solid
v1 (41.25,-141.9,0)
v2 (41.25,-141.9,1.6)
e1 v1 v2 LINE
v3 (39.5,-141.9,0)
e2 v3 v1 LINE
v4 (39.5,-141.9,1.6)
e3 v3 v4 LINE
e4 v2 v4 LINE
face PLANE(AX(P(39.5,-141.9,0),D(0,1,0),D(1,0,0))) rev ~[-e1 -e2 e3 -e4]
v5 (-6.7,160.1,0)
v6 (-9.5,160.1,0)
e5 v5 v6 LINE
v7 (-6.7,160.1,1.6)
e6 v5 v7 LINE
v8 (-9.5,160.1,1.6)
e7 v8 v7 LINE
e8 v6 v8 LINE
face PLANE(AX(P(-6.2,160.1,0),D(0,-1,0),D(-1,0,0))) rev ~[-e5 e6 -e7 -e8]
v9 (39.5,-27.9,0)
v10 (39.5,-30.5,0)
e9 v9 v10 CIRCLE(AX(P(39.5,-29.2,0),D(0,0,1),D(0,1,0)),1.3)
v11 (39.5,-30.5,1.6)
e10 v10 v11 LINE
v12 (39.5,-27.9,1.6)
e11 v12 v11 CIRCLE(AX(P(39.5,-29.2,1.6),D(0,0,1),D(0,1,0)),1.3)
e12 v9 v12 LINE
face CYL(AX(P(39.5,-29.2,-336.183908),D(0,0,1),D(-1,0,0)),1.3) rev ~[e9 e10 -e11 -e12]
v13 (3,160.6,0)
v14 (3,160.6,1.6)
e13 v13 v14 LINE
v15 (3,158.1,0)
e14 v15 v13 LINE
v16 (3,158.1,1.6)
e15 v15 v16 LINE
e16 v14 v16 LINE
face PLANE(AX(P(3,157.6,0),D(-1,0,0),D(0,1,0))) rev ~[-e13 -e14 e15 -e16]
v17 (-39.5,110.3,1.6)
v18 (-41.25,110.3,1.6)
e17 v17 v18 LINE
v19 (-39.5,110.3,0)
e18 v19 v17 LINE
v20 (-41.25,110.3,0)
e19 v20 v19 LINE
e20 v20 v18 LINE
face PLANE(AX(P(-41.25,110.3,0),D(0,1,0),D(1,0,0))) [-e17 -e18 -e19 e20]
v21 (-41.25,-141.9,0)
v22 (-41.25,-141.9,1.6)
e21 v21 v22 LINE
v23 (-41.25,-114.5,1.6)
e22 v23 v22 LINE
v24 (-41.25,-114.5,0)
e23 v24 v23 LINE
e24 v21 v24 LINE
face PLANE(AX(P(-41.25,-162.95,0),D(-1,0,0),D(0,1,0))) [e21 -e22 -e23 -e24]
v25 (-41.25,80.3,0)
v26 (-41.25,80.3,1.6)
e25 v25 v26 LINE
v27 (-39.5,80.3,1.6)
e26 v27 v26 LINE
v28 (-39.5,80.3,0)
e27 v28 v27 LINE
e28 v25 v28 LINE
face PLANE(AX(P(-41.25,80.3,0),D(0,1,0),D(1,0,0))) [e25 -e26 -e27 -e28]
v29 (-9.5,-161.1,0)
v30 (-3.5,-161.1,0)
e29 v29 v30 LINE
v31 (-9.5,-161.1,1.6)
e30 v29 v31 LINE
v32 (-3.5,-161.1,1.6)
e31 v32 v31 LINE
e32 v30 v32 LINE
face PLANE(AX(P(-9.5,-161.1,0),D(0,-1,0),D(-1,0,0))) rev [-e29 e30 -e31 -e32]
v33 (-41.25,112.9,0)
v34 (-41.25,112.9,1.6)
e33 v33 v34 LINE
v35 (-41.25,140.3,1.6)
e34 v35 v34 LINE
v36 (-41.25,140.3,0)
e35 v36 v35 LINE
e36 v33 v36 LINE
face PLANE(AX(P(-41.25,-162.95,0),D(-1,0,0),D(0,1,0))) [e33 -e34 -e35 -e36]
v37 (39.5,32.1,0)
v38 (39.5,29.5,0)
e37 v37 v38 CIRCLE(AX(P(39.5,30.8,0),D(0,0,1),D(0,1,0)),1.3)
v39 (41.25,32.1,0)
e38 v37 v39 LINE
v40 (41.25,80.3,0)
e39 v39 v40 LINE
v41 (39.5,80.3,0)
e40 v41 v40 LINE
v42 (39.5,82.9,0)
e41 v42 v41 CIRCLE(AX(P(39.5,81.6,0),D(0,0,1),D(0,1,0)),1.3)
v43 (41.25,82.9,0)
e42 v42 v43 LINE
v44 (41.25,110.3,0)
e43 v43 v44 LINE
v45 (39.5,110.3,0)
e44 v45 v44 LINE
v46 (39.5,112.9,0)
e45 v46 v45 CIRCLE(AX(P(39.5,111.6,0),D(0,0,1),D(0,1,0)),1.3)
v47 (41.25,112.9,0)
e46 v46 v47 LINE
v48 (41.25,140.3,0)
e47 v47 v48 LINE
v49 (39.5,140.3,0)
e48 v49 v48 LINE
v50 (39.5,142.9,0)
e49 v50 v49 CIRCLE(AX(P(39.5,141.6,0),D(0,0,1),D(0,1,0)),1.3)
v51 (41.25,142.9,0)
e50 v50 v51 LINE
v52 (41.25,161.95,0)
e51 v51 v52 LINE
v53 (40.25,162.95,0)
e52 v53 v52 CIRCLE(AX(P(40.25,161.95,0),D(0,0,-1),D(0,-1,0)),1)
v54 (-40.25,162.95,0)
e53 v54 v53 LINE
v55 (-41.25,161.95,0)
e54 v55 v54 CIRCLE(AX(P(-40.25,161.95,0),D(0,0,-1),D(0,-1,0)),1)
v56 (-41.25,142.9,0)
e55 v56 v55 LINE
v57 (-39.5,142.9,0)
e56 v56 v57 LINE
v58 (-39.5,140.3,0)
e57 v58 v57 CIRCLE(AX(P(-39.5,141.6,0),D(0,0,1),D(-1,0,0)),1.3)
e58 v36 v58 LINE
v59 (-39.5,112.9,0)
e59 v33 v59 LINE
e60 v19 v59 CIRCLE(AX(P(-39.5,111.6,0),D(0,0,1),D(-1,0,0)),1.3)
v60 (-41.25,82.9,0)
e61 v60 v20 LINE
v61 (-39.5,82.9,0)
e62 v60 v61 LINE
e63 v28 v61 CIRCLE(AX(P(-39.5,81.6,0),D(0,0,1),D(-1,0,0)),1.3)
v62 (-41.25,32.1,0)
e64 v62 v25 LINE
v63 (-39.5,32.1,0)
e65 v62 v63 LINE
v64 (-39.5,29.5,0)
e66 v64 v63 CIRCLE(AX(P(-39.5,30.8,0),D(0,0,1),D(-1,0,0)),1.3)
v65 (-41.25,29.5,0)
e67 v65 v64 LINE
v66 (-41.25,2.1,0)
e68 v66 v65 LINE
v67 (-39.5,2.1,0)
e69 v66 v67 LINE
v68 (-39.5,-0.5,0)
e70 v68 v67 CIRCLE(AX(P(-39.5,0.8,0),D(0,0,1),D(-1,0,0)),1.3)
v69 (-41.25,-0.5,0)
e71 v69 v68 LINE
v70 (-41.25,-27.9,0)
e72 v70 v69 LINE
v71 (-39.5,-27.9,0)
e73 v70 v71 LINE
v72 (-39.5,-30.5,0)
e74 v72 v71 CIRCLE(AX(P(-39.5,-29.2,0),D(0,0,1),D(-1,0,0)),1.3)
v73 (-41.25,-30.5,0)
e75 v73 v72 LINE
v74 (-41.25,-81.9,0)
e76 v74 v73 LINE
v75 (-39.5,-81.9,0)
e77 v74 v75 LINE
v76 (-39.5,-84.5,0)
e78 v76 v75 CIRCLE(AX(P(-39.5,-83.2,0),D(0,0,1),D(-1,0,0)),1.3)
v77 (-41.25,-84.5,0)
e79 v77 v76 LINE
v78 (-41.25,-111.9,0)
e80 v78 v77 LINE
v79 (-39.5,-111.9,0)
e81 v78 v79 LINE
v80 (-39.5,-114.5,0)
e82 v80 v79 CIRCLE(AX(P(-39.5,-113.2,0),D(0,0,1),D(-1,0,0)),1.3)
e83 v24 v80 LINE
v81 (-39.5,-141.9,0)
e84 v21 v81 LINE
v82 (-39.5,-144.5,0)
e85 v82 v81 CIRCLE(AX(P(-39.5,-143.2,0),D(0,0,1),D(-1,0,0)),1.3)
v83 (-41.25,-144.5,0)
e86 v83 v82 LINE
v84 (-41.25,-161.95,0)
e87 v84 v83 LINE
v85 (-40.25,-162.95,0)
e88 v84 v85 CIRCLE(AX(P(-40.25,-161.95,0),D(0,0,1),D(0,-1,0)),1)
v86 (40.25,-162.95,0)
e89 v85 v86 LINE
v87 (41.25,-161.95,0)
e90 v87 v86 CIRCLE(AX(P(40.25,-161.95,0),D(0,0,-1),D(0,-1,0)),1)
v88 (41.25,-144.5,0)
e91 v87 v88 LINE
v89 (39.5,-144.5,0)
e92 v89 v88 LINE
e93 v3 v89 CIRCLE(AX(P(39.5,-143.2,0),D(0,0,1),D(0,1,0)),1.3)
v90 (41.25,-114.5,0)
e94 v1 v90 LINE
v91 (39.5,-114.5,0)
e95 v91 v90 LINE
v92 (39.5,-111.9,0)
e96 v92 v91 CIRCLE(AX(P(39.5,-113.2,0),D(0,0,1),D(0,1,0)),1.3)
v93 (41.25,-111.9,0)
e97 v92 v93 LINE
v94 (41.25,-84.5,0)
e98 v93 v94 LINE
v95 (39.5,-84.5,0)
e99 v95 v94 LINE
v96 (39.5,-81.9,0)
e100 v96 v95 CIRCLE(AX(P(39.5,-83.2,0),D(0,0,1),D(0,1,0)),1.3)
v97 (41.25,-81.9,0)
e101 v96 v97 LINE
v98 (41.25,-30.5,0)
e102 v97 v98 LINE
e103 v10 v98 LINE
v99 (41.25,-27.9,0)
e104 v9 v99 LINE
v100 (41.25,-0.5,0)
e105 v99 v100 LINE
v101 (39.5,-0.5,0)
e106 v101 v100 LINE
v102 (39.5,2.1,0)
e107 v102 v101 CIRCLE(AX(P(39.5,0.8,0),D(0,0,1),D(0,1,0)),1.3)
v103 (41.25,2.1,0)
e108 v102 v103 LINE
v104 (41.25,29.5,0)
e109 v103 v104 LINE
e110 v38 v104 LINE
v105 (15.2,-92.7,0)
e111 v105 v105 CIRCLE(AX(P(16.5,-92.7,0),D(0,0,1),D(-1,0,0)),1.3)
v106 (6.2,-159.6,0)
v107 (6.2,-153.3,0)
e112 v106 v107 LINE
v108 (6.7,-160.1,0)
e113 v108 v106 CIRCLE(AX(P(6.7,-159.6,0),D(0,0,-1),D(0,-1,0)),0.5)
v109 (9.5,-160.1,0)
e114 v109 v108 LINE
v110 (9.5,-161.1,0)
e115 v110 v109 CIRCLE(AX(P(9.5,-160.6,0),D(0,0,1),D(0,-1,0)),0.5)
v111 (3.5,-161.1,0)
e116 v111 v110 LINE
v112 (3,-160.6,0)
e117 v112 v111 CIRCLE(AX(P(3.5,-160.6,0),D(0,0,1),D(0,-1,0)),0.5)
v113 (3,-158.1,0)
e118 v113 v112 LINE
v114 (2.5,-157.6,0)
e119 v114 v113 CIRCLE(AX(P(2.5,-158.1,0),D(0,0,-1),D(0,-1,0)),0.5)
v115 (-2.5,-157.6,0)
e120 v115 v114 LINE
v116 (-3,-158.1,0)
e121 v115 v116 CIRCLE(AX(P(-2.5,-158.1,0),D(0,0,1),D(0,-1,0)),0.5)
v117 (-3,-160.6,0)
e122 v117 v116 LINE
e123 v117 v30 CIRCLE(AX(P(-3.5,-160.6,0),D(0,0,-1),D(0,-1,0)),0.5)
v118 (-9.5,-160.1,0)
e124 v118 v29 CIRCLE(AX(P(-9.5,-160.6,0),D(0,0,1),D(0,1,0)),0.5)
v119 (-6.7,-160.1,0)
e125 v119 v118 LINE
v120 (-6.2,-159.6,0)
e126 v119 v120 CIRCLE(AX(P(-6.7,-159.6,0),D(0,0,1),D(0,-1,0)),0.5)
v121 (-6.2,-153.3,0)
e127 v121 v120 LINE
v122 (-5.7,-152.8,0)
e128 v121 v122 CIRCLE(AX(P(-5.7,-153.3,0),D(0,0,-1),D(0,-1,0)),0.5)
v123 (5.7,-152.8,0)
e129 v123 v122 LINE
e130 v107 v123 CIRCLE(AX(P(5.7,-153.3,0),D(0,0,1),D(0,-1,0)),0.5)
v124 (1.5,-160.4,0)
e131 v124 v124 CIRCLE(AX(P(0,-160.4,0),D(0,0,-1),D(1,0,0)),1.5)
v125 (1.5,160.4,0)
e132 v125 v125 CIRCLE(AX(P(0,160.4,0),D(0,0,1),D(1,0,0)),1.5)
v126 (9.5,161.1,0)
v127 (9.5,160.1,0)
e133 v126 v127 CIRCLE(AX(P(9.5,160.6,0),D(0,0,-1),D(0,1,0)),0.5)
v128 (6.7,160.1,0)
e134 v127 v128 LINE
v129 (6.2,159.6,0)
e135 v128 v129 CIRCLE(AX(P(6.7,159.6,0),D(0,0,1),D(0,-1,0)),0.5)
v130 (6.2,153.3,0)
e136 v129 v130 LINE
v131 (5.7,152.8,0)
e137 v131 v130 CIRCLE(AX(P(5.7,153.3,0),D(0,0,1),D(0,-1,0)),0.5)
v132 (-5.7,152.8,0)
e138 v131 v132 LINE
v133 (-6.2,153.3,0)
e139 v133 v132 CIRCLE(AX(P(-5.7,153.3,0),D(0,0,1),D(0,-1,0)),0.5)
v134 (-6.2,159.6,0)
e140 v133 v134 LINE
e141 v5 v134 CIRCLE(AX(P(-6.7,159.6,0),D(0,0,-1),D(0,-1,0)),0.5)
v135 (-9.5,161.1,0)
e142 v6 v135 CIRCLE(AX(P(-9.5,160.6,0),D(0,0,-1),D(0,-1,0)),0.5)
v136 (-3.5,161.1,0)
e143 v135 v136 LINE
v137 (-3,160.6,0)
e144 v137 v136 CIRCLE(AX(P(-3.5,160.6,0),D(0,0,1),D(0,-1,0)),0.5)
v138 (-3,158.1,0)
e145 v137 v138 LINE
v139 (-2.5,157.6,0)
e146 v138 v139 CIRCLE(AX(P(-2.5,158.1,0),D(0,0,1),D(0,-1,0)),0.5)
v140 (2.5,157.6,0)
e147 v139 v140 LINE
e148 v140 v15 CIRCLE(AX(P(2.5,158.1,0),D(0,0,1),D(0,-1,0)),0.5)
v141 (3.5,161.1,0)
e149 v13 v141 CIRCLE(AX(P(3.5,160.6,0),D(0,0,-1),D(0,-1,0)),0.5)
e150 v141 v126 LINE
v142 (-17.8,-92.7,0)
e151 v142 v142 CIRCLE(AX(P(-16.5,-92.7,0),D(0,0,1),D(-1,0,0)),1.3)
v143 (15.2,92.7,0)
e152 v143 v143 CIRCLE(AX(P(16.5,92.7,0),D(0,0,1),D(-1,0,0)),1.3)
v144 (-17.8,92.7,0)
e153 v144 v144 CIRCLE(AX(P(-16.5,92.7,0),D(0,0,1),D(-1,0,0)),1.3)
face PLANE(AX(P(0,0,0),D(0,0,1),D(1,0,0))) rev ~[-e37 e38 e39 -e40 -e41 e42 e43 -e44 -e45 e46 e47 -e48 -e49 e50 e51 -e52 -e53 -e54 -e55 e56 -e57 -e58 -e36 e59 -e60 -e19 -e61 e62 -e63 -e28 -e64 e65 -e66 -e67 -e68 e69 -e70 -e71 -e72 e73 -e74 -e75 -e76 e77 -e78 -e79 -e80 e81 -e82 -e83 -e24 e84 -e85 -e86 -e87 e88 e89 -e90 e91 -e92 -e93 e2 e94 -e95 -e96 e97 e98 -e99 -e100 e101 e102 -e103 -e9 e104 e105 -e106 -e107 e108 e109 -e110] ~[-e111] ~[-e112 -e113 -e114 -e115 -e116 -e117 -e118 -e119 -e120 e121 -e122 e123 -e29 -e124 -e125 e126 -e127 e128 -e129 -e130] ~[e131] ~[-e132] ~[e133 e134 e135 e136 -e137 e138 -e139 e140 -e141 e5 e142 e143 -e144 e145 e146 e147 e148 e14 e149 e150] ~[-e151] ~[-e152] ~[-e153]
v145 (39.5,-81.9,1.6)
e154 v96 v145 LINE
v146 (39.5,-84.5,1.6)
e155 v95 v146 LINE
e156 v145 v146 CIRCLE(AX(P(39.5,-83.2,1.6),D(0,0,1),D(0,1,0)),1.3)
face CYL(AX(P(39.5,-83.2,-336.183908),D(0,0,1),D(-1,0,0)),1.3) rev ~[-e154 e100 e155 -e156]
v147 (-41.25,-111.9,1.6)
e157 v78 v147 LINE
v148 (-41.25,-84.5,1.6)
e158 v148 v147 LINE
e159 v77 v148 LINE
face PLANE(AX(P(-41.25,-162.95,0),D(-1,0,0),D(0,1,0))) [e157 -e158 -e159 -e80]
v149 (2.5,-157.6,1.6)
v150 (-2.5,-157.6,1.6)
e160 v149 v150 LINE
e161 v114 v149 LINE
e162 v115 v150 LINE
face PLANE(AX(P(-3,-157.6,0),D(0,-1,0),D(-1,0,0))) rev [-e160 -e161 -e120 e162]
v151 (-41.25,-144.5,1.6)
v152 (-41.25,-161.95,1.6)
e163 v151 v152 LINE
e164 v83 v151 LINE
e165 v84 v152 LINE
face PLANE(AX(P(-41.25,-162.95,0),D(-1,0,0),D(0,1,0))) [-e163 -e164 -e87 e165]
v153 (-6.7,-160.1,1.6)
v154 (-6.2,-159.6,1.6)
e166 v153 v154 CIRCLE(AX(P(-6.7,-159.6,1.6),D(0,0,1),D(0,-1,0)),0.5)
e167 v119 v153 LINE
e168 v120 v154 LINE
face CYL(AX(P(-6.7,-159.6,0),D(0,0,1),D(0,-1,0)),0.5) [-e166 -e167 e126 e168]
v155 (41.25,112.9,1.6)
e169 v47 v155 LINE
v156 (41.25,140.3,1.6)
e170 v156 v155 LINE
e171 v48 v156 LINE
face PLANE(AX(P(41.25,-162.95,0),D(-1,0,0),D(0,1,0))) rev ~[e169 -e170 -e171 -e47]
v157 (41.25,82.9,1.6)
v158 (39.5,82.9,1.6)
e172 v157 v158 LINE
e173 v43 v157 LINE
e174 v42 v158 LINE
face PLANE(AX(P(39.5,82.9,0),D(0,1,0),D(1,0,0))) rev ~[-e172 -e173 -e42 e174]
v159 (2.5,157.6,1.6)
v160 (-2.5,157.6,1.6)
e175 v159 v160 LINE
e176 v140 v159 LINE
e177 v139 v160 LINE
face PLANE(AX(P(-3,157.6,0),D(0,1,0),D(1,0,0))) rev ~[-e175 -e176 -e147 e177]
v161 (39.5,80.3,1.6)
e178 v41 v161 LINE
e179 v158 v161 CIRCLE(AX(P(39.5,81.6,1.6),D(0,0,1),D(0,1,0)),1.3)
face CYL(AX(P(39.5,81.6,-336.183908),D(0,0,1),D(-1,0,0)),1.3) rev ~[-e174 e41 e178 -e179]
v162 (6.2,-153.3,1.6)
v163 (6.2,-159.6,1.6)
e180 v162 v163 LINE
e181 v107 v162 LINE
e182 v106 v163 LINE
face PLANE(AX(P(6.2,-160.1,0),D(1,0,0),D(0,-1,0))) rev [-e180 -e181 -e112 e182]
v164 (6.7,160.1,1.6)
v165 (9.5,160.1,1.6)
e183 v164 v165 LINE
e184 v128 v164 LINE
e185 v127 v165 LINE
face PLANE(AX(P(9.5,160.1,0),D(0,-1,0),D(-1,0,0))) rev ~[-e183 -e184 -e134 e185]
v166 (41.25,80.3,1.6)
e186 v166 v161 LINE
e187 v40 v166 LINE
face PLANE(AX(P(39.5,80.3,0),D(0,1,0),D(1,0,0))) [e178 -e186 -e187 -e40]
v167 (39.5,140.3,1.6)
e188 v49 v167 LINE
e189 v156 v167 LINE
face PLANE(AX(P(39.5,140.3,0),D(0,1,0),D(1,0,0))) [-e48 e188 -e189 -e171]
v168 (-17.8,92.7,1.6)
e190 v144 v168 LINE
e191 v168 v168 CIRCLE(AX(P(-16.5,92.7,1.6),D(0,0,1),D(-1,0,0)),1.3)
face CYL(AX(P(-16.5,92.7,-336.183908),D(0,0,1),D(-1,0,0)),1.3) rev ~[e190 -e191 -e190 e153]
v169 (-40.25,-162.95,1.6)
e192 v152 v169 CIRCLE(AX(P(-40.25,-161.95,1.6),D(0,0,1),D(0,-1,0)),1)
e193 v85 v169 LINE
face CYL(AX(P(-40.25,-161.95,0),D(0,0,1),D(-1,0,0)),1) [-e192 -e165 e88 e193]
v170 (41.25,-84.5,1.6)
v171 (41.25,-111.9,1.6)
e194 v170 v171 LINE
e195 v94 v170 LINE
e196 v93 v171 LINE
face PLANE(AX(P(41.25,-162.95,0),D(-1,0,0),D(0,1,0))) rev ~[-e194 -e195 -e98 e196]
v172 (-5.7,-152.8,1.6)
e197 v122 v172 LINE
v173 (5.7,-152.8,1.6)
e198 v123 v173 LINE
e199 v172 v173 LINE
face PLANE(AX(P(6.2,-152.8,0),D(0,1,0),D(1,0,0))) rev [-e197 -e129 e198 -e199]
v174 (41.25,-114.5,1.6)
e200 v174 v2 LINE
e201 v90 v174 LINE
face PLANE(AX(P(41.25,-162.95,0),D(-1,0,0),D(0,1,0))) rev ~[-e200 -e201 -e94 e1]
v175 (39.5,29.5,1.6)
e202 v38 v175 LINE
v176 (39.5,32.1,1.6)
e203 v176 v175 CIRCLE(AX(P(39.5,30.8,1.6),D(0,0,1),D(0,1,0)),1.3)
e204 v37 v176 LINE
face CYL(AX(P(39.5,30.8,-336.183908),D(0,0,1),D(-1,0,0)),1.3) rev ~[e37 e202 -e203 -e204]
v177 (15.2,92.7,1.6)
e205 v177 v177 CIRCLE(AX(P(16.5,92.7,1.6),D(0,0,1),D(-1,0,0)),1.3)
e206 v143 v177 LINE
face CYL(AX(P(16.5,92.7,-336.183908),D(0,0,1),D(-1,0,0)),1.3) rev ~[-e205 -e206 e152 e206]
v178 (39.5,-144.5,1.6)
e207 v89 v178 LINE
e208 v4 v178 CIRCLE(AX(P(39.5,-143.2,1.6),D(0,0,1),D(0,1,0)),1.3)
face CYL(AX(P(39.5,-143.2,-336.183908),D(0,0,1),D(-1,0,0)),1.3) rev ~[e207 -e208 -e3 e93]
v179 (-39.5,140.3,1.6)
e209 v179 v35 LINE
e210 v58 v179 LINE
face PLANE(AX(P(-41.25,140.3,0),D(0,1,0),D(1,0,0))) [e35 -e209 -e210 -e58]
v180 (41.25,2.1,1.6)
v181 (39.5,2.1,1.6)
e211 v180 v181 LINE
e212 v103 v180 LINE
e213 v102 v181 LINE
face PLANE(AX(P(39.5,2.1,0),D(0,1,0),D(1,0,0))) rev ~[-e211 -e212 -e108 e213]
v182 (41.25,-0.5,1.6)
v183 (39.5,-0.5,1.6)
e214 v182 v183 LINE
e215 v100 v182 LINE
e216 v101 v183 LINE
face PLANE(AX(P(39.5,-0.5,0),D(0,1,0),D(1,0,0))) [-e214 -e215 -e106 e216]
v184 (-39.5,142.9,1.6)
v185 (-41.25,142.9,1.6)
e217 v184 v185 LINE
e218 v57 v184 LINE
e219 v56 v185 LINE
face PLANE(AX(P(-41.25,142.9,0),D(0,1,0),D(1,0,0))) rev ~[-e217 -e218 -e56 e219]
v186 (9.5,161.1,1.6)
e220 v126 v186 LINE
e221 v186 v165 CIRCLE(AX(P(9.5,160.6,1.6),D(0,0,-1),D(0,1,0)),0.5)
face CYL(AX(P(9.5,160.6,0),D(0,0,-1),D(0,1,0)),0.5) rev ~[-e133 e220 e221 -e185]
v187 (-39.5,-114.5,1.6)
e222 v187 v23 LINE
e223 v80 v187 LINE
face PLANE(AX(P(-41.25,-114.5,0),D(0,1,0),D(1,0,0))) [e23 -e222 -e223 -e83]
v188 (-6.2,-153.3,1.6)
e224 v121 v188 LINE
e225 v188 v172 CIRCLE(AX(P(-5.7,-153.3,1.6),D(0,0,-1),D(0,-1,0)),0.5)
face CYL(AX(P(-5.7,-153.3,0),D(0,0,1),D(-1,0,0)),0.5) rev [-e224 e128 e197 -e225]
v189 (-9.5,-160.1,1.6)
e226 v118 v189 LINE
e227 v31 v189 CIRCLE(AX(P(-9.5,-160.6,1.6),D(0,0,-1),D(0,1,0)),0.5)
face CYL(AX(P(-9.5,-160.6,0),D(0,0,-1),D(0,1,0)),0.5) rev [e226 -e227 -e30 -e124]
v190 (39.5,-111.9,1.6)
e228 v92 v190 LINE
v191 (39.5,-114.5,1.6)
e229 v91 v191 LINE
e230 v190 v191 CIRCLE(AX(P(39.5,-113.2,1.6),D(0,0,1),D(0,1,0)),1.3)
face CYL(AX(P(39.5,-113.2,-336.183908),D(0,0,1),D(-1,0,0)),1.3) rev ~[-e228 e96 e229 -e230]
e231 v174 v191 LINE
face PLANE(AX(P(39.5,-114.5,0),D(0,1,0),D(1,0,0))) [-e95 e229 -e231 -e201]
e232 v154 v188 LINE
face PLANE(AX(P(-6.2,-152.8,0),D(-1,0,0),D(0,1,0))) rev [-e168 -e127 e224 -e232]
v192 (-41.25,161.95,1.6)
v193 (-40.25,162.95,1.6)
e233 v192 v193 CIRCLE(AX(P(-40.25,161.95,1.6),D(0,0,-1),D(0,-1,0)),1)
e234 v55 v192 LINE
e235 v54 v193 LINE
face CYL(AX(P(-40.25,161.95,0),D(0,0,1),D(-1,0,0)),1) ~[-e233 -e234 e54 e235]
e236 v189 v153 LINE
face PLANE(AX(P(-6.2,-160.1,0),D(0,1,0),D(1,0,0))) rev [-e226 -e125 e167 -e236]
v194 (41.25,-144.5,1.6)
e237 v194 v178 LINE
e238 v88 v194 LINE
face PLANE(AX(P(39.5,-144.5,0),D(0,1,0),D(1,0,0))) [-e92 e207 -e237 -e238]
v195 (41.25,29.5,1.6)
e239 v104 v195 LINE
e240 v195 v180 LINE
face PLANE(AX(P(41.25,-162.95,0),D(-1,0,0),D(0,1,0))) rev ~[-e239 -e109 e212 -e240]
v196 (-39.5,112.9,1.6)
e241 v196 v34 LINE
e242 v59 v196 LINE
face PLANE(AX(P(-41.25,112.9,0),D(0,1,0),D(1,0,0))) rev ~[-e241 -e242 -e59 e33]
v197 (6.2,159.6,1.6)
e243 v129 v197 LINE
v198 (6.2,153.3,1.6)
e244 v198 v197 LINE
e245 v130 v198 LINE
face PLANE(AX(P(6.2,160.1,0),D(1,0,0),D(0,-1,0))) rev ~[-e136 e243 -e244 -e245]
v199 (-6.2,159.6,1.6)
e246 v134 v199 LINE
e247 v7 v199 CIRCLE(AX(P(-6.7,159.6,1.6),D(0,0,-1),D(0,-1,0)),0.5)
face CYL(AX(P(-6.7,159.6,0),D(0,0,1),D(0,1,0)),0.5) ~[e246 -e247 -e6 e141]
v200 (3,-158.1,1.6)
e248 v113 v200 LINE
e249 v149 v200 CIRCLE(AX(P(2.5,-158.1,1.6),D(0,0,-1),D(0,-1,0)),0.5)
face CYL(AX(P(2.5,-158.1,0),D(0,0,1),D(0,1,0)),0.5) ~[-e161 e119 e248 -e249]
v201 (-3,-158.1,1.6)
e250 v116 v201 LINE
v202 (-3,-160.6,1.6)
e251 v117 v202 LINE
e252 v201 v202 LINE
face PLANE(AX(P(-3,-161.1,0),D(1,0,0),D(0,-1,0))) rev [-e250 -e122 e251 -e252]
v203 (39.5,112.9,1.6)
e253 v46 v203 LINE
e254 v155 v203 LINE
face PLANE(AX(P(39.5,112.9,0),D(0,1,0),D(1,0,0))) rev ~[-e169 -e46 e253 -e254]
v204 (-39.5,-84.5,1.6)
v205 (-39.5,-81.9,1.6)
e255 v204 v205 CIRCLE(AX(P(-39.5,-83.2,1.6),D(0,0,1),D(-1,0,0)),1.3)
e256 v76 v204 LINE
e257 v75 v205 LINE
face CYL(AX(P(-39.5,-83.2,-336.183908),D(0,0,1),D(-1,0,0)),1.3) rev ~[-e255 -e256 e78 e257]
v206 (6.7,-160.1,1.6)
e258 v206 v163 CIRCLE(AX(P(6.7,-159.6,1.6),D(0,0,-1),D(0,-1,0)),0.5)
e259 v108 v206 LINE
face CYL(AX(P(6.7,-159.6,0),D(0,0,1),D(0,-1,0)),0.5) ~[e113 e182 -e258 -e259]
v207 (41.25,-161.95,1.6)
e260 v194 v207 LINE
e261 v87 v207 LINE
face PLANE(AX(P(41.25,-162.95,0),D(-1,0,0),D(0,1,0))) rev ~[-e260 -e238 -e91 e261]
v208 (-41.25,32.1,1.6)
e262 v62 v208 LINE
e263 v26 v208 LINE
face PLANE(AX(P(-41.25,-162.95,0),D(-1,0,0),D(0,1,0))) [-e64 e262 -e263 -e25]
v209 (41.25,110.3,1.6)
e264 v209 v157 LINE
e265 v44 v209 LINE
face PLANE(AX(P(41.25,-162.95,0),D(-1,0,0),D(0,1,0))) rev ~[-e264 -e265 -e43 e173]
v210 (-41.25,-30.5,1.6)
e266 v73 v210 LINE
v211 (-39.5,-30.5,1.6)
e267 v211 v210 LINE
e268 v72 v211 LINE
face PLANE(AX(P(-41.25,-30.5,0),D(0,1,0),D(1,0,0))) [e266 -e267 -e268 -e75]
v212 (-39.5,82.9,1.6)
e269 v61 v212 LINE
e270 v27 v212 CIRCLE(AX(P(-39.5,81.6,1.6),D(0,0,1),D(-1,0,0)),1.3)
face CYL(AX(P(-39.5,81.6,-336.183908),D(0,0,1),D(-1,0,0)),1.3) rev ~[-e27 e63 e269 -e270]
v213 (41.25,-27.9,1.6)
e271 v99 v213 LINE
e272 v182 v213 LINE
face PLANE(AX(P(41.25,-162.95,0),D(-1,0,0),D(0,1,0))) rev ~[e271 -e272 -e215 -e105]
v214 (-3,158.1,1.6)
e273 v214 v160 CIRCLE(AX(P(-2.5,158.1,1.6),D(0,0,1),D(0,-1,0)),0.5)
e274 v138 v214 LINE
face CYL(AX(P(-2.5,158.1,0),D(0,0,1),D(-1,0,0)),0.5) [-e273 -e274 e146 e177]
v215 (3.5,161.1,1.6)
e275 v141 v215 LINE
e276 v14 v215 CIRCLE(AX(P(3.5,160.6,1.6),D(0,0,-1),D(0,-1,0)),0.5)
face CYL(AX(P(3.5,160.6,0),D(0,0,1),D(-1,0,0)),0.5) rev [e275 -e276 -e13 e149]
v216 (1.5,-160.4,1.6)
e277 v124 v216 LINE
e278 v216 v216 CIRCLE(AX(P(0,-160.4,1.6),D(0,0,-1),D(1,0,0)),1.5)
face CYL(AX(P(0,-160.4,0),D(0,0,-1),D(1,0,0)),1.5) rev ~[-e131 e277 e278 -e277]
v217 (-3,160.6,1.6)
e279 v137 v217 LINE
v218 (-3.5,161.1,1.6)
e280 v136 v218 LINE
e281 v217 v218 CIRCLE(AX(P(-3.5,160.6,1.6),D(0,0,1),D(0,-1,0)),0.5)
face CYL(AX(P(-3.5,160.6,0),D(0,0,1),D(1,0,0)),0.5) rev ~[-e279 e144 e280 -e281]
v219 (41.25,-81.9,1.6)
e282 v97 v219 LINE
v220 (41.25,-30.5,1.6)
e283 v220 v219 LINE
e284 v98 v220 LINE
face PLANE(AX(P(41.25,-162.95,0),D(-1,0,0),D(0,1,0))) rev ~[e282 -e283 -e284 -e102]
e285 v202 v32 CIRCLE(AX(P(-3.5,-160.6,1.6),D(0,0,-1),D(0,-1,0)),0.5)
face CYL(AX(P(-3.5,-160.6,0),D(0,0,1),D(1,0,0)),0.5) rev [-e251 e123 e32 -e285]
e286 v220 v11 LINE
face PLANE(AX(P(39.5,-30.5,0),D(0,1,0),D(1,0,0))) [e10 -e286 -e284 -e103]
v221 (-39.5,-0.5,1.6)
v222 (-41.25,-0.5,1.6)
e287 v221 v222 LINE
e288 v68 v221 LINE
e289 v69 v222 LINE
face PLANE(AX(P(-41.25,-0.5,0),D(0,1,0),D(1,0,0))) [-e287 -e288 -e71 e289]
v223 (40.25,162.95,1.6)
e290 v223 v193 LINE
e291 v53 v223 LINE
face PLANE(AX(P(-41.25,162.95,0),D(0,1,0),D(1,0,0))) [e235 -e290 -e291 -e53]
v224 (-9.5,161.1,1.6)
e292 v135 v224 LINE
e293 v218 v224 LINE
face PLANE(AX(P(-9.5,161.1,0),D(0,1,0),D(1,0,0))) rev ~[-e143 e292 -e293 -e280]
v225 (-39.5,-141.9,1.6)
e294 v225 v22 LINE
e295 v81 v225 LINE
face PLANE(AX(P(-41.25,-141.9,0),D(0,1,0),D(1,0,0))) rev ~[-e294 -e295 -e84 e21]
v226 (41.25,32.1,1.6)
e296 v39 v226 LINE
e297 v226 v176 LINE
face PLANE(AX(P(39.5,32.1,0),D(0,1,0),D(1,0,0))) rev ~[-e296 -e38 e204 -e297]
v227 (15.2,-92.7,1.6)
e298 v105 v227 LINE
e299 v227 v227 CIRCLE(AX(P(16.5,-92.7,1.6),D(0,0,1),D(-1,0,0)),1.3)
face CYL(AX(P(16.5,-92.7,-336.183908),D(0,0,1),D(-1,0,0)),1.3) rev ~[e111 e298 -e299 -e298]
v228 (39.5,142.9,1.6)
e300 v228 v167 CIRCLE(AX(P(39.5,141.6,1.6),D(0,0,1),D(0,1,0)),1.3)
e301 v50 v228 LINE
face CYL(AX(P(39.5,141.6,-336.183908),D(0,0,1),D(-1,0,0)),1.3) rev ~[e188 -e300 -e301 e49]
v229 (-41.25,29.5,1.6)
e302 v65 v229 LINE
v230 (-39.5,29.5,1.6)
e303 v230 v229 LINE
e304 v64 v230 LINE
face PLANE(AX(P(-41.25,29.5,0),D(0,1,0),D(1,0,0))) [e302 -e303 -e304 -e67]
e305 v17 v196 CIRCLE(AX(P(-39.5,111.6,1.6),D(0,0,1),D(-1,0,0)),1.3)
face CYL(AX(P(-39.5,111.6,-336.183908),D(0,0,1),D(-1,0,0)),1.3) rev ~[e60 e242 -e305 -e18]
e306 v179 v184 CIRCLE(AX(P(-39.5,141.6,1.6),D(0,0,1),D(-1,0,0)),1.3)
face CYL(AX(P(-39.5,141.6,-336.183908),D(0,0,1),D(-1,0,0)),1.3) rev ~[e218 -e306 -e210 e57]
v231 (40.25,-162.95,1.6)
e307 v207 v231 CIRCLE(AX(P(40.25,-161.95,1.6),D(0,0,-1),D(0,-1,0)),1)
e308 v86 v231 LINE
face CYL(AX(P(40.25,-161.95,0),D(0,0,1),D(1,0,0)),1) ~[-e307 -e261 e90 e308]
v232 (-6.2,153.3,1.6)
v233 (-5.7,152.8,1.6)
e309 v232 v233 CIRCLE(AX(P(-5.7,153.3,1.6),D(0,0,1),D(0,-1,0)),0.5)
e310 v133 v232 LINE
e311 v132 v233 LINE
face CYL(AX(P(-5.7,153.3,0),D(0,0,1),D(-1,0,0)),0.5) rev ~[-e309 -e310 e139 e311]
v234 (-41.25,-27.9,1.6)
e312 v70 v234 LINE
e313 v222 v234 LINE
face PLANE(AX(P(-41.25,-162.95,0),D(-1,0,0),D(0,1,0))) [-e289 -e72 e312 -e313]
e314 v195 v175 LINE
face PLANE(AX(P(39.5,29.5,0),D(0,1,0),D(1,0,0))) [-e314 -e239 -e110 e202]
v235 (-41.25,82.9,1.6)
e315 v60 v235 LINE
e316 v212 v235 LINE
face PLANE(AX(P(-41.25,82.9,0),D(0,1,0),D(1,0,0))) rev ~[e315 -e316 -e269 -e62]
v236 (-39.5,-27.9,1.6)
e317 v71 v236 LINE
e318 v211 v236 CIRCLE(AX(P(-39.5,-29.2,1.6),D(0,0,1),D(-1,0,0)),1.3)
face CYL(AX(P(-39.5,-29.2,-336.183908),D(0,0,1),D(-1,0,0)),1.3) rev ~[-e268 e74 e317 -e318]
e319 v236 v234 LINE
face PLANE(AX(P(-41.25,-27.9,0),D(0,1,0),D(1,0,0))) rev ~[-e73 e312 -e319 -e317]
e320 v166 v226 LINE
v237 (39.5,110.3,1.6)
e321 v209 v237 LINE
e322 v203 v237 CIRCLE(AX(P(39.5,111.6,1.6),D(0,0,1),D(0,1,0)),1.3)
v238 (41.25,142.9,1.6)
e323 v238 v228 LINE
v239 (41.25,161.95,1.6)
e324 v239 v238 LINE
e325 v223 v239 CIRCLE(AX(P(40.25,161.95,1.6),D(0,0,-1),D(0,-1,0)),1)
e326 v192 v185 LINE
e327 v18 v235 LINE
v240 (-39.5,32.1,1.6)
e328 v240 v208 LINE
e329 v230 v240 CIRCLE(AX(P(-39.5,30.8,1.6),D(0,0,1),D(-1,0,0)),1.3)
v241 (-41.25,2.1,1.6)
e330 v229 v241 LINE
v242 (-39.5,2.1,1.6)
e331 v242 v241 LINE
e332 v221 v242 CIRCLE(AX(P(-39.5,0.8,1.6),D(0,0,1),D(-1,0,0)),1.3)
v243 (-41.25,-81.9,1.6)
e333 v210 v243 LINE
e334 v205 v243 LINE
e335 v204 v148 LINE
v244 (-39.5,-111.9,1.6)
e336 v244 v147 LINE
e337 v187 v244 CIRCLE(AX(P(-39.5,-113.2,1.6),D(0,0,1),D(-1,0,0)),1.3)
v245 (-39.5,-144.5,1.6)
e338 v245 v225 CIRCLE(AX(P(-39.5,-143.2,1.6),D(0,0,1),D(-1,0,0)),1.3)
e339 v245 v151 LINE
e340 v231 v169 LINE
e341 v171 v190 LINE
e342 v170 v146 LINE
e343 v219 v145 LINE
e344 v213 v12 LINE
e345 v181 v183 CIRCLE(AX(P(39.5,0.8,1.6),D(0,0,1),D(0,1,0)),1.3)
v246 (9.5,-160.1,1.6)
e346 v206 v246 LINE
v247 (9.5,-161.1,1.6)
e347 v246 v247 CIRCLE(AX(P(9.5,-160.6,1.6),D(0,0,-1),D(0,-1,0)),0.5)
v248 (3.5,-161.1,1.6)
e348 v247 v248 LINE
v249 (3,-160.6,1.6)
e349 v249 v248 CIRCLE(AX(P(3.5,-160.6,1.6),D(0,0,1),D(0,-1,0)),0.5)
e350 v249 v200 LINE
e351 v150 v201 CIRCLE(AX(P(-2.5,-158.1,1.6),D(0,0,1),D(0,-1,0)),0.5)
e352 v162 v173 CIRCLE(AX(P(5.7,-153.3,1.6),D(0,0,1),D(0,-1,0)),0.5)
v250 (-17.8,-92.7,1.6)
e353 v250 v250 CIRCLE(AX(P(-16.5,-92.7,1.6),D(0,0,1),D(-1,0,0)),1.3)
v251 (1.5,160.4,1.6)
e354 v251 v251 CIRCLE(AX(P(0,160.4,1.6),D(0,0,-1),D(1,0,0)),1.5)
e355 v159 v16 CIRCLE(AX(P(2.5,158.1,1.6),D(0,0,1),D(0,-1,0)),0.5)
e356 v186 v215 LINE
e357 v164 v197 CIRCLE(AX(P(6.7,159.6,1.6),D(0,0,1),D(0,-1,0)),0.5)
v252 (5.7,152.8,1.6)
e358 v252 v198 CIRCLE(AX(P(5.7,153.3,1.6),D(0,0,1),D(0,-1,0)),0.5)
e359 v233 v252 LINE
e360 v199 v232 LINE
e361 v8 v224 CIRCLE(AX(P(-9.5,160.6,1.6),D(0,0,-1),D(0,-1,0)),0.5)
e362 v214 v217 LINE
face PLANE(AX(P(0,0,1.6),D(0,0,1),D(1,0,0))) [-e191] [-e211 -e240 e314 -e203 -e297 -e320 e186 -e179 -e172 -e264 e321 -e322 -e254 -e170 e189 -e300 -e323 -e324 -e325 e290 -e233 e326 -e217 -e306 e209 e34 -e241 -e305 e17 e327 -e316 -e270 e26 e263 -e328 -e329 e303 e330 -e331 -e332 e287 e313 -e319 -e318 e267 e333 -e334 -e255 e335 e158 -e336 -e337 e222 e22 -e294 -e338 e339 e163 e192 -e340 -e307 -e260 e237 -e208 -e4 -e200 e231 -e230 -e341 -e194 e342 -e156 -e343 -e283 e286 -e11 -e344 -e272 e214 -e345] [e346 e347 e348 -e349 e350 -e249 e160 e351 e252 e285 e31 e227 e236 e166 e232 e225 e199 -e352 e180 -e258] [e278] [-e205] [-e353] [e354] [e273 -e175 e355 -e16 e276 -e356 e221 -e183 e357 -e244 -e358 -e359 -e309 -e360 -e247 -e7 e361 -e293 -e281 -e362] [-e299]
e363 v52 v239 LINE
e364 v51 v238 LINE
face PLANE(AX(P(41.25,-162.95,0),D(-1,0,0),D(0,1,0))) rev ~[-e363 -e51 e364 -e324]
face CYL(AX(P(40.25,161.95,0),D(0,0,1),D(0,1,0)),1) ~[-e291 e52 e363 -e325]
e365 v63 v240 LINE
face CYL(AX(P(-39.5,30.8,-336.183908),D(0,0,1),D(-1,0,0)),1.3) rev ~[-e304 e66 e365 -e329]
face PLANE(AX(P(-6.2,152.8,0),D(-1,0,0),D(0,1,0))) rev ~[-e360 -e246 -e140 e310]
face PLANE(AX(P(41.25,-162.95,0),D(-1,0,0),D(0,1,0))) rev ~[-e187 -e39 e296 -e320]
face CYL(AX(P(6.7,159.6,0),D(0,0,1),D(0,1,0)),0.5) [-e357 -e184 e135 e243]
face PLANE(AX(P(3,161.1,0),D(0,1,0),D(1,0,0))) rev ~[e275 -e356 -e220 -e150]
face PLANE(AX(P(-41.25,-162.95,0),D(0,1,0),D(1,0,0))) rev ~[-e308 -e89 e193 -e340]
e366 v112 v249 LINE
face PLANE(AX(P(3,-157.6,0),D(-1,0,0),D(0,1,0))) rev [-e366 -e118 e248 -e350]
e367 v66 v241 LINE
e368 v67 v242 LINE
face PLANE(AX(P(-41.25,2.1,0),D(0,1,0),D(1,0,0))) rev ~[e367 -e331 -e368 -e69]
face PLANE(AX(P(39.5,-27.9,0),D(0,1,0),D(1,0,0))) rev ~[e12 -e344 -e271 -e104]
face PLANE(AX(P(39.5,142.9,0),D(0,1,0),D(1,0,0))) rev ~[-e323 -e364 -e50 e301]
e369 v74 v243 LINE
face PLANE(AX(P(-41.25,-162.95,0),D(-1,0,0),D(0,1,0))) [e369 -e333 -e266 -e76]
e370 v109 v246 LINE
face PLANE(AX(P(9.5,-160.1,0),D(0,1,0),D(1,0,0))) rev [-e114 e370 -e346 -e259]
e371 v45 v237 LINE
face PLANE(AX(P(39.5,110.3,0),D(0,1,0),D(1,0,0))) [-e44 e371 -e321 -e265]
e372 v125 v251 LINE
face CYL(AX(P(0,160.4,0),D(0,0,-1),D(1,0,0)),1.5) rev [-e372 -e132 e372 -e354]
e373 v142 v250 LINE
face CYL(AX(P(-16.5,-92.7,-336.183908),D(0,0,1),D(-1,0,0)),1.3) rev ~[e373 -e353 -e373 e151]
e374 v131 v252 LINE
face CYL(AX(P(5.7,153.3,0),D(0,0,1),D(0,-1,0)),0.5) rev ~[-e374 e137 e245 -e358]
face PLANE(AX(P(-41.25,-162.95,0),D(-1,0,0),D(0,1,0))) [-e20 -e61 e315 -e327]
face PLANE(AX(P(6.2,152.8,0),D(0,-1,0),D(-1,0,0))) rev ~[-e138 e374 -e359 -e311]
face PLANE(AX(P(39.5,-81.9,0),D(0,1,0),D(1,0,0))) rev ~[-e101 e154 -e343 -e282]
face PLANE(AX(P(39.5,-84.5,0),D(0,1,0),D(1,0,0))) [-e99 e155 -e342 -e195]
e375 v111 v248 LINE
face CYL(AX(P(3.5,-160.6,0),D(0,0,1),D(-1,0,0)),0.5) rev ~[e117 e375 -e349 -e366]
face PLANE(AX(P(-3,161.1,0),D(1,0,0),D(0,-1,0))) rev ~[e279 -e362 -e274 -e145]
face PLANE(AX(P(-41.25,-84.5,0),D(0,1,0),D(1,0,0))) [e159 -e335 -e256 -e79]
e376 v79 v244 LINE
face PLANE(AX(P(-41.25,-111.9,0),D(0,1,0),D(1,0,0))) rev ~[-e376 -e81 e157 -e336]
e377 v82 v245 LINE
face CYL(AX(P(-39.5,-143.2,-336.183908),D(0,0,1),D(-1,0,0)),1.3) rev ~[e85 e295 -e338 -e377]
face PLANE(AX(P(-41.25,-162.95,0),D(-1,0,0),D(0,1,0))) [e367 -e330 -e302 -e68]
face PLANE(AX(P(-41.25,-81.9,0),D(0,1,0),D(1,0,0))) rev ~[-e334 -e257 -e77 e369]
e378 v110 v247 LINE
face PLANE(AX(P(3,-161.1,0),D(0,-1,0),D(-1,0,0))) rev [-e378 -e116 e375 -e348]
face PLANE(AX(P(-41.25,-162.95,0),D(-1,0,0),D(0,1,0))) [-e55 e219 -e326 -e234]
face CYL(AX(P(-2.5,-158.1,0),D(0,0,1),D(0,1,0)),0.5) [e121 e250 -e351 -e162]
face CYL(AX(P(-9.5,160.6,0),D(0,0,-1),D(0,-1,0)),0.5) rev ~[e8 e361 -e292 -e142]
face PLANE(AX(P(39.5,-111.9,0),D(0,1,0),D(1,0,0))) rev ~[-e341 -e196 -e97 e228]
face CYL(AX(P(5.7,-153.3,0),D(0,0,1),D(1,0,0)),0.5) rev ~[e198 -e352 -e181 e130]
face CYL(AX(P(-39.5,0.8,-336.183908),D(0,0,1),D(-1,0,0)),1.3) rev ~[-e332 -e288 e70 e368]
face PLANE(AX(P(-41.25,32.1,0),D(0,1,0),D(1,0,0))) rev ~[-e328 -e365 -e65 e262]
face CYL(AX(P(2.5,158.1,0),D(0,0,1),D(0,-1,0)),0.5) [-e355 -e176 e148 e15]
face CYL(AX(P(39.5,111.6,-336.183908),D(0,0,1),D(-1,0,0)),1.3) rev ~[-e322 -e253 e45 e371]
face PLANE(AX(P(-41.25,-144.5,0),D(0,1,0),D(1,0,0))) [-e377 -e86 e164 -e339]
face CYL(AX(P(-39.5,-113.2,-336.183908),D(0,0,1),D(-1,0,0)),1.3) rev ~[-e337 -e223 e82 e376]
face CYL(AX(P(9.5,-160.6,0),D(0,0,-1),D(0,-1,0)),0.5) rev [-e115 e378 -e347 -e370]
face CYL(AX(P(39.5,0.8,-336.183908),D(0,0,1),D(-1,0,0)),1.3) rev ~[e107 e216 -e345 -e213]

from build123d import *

# Parameters (mm, degrees)
SKETCH3_W                  = 82.8
SKETCH3_H                  = 326.2
SKETCH3_R                  = 0.8
PCB_EXTRUDE_DEPTH          = 1.6
SOLAR_HOLE_SKETCH_R        = 1.5
SOLAR_HOLE_DEPTH           = 2.6
SKETCH4_W                  = 82.8
SKETCH4_H                  = 326.2
SKETCH4_W_2                = 82.5
SKETCH4_H_2                = 325.9
OFFSET_EDGES_DEPTH         = 2.6
CORNER_FILLET_ON_PCB_R     = 1
FILLETS_FOR_SOLAR_HOLE_R   = 0.5
M2_CLEARANCE_HOLE1_D       = 2.6
SKETCH7_W                  = 1.75
SKETCH7_H                  = 2.6
SLOTS_FOR_EDGE_HOLES_DEPTH = 2.6


with BuildPart() as part:
    # Sketch3 → Pcb extrude (new body)
    with BuildSketch(Plane.XY):
        Rectangle(SKETCH3_W, SKETCH3_H)
        with Locations((-39.5, -83.2)):
            Circle(SKETCH3_R, mode=Mode.SUBTRACT)
        with Locations((39.5, -83.2)):
            Circle(SKETCH3_R, mode=Mode.SUBTRACT)
        with Locations((-39.5, 30.8)):
            Circle(SKETCH3_R, mode=Mode.SUBTRACT)
        with Locations((-39.5, 0.8)):
            Circle(SKETCH3_R, mode=Mode.SUBTRACT)
        with Locations((-39.5, -29.2)):
            Circle(SKETCH3_R, mode=Mode.SUBTRACT)
        with Locations((-16.5, -92.7)):
            Circle(SKETCH3_R, mode=Mode.SUBTRACT)
        with Locations((-39.5, -113.2)):
            Circle(SKETCH3_R, mode=Mode.SUBTRACT)
        with Locations((-39.5, -143.2)):
            Circle(SKETCH3_R, mode=Mode.SUBTRACT)
        with Locations((0, -160.4)):
            Circle(SKETCH3_R, mode=Mode.SUBTRACT)
        with Locations((39.5, -143.2)):
            Circle(SKETCH3_R, mode=Mode.SUBTRACT)
        with Locations((39.5, -113.2)):
            Circle(SKETCH3_R, mode=Mode.SUBTRACT)
        with Locations((16.5, -92.7)):
            Circle(SKETCH3_R, mode=Mode.SUBTRACT)
        with Locations((39.5, -29.2)):
            Circle(SKETCH3_R, mode=Mode.SUBTRACT)
        with Locations((39.5, 0.8)):
            Circle(SKETCH3_R, mode=Mode.SUBTRACT)
        with Locations((39.5, 30.8)):
            Circle(SKETCH3_R, mode=Mode.SUBTRACT)
        with Locations((0, 160.4)):
            Circle(SKETCH3_R, mode=Mode.SUBTRACT)
        with Locations((39.5, 141.6)):
            Circle(SKETCH3_R, mode=Mode.SUBTRACT)
        with Locations((-39.5, 141.6)):
            Circle(SKETCH3_R, mode=Mode.SUBTRACT)
        with Locations((16.5, 92.7)):
            Circle(SKETCH3_R, mode=Mode.SUBTRACT)
        with Locations((-16.5, 92.7)):
            Circle(SKETCH3_R, mode=Mode.SUBTRACT)
        with Locations((39.5, 111.6)):
            Circle(SKETCH3_R, mode=Mode.SUBTRACT)
        with Locations((-39.5, 111.6)):
            Circle(SKETCH3_R, mode=Mode.SUBTRACT)
        with Locations((39.5, 81.6)):
            Circle(SKETCH3_R, mode=Mode.SUBTRACT)
        with Locations((-39.5, 81.6)):
            Circle(SKETCH3_R, mode=Mode.SUBTRACT)
    extrude(amount=PCB_EXTRUDE_DEPTH)

    # Solar Hole sketch → Solar Hole (cut, through all)
    with BuildSketch(Plane.XY):
        with Locations((0, 160.4)):
            Circle(SOLAR_HOLE_SKETCH_R)
        with BuildLine():
            Line((-3, 157.6), (3, 157.6))
            Line((3, 157.6), (3, 161.1))
            Line((3, 161.1), (9.5, 161.1))
            ThreePointArc((9.5, 161.1), (10, 160.6), (9.5, 160.1))
            Line((9.5, 160.1), (6.2, 160.1))
            Line((6.2, 160.1), (6.2, 152.8))
            Line((6.2, 152.8), (-6.2, 152.8))
            Line((-6.2, 152.8), (-6.2, 160.1))
            Line((-6.2, 160.1), (-9.5, 160.1))
            ThreePointArc((-9.5, 160.1), (-10, 160.6), (-9.5, 161.1))
            Line((-9.5, 161.1), (-3, 161.1))
            Line((-3, 161.1), (-3, 157.6))
        make_face()
    solar_hole = extrude(amount=SOLAR_HOLE_DEPTH, mode=Mode.SUBTRACT)

    # Mirror Solar Hole: Solar Hole across plane
    add(solar_hole.mirror(Plane.ZX), mode=Mode.SUBTRACT)

    # Sketch4 → offset edges (cut, through all)
    with BuildSketch(Plane.XY):
        Rectangle(SKETCH4_W, SKETCH4_H)
        Rectangle(SKETCH4_W_2, SKETCH4_H_2, mode=Mode.SUBTRACT)
    extrude(amount=OFFSET_EDGES_DEPTH, mode=Mode.SUBTRACT)

    # Corner Fillet on PCB
    corner_fillet_on_pcb_edges = [part.edges().sort_by_distance(p)[0] for p in [
        (-41.25, -162.95, 0.8),
        (-41.25, 162.95, 0.8),
        (41.25, 162.95, 0.8),
        (41.25, -162.95, 0.8),
    ]]
    fillet(corner_fillet_on_pcb_edges, radius=CORNER_FILLET_ON_PCB_R)

    # Fillets for solar hole
    fillets_for_solar_hole_edges = [part.edges().sort_by_distance(p)[0] for p in [
        (3, 161.1, 0.8),
        (3, 157.6, 0.8),
        (-3, 157.6, 0.8),
        (-3, 161.1, 0.8),
        (-6.2, 160.1, 0.8),
        (-6.2, 152.8, 0.8),
        (6.2, 152.8, 0.8),
        (6.2, 160.1, 0.8),
        (6.2, -160.1, 0.8),
        (6.2, -152.8, 0.8),
        (-6.2, -152.8, 0.8),
        (-6.2, -160.1, 0.8),
        (-3, -161.1, 0.8),
        (-3, -157.6, 0.8),
        (3, -157.6, 0.8),
        (3, -161.1, 0.8),
    ]]
    fillet(fillets_for_solar_hole_edges, radius=FILLETS_FOR_SOLAR_HOLE_R)

    # M2 Clearance Hole1 (through all)
    with Locations(Plane(origin=(0, 0, 0), x_dir=(1, 0, 0), z_dir=(0, 0, -1))):
        with Locations((-39.5, 143.2), (-39.5, 113.2), (-39.5, 83.2), (-39.5, 29.2), (-39.5, -0.8), (-39.5, -30.8), (-39.5, -81.6), (-39.5, -111.6), (-39.5, -141.6), (39.5, -141.6), (39.5, -111.6), (16.5, -92.7), (-16.5, -92.7), (39.5, -81.6), (39.5, -30.8), (39.5, -0.8), (39.5, 29.2), (39.5, 83.2), (39.5, 113.2), (39.5, 143.2), (16.5, 92.7), (-16.5, 92.7)):
            Hole(M2_CLEARANCE_HOLE1_D / 2)

    # Sketch7 → Slots for edge holes (cut, through all)
    with BuildSketch(Plane.XY):
        with Locations((-40.375, -29.2)):
            Rectangle(SKETCH7_W, SKETCH7_H)
        with Locations((-40.375, -83.2)):
            Rectangle(SKETCH7_W, SKETCH7_H)
        with Locations((-40.375, -113.2)):
            Rectangle(SKETCH7_W, SKETCH7_H)
        with Locations((-40.375, -143.2)):
            Rectangle(SKETCH7_W, SKETCH7_H)
        with Locations((-40.375, 0.8)):
            Rectangle(SKETCH7_W, SKETCH7_H)
        with Locations((-40.375, 30.8)):
            Rectangle(SKETCH7_W, SKETCH7_H)
        with Locations((-40.375, 81.6)):
            Rectangle(SKETCH7_W, SKETCH7_H)
        with Locations((-40.375, 111.6)):
            Rectangle(SKETCH7_W, SKETCH7_H)
        with Locations((-40.375, 141.6)):
            Rectangle(SKETCH7_W, SKETCH7_H)
        with Locations((40.375, 141.6)):
            Rectangle(SKETCH7_W, SKETCH7_H)
        with Locations((40.375, 111.6)):
            Rectangle(SKETCH7_W, SKETCH7_H)
        with Locations((40.375, 81.6)):
            Rectangle(SKETCH7_W, SKETCH7_H)
        with Locations((40.375, 30.8)):
            Rectangle(SKETCH7_W, SKETCH7_H)
        with Locations((40.375, 0.8)):
            Rectangle(SKETCH7_W, SKETCH7_H)
        with Locations((40.375, -143.2)):
            Rectangle(SKETCH7_W, SKETCH7_H)
        with Locations((40.375, -113.2)):
            Rectangle(SKETCH7_W, SKETCH7_H)
        with Locations((40.375, -29.2)):
            Rectangle(SKETCH7_W, SKETCH7_H)
        with Locations((40.375, -83.2)):
            Rectangle(SKETCH7_W, SKETCH7_H)
    extrude(amount=SLOTS_FOR_EDGE_HOLES_DEPTH, mode=Mode.SUBTRACT)


solid = part.part
